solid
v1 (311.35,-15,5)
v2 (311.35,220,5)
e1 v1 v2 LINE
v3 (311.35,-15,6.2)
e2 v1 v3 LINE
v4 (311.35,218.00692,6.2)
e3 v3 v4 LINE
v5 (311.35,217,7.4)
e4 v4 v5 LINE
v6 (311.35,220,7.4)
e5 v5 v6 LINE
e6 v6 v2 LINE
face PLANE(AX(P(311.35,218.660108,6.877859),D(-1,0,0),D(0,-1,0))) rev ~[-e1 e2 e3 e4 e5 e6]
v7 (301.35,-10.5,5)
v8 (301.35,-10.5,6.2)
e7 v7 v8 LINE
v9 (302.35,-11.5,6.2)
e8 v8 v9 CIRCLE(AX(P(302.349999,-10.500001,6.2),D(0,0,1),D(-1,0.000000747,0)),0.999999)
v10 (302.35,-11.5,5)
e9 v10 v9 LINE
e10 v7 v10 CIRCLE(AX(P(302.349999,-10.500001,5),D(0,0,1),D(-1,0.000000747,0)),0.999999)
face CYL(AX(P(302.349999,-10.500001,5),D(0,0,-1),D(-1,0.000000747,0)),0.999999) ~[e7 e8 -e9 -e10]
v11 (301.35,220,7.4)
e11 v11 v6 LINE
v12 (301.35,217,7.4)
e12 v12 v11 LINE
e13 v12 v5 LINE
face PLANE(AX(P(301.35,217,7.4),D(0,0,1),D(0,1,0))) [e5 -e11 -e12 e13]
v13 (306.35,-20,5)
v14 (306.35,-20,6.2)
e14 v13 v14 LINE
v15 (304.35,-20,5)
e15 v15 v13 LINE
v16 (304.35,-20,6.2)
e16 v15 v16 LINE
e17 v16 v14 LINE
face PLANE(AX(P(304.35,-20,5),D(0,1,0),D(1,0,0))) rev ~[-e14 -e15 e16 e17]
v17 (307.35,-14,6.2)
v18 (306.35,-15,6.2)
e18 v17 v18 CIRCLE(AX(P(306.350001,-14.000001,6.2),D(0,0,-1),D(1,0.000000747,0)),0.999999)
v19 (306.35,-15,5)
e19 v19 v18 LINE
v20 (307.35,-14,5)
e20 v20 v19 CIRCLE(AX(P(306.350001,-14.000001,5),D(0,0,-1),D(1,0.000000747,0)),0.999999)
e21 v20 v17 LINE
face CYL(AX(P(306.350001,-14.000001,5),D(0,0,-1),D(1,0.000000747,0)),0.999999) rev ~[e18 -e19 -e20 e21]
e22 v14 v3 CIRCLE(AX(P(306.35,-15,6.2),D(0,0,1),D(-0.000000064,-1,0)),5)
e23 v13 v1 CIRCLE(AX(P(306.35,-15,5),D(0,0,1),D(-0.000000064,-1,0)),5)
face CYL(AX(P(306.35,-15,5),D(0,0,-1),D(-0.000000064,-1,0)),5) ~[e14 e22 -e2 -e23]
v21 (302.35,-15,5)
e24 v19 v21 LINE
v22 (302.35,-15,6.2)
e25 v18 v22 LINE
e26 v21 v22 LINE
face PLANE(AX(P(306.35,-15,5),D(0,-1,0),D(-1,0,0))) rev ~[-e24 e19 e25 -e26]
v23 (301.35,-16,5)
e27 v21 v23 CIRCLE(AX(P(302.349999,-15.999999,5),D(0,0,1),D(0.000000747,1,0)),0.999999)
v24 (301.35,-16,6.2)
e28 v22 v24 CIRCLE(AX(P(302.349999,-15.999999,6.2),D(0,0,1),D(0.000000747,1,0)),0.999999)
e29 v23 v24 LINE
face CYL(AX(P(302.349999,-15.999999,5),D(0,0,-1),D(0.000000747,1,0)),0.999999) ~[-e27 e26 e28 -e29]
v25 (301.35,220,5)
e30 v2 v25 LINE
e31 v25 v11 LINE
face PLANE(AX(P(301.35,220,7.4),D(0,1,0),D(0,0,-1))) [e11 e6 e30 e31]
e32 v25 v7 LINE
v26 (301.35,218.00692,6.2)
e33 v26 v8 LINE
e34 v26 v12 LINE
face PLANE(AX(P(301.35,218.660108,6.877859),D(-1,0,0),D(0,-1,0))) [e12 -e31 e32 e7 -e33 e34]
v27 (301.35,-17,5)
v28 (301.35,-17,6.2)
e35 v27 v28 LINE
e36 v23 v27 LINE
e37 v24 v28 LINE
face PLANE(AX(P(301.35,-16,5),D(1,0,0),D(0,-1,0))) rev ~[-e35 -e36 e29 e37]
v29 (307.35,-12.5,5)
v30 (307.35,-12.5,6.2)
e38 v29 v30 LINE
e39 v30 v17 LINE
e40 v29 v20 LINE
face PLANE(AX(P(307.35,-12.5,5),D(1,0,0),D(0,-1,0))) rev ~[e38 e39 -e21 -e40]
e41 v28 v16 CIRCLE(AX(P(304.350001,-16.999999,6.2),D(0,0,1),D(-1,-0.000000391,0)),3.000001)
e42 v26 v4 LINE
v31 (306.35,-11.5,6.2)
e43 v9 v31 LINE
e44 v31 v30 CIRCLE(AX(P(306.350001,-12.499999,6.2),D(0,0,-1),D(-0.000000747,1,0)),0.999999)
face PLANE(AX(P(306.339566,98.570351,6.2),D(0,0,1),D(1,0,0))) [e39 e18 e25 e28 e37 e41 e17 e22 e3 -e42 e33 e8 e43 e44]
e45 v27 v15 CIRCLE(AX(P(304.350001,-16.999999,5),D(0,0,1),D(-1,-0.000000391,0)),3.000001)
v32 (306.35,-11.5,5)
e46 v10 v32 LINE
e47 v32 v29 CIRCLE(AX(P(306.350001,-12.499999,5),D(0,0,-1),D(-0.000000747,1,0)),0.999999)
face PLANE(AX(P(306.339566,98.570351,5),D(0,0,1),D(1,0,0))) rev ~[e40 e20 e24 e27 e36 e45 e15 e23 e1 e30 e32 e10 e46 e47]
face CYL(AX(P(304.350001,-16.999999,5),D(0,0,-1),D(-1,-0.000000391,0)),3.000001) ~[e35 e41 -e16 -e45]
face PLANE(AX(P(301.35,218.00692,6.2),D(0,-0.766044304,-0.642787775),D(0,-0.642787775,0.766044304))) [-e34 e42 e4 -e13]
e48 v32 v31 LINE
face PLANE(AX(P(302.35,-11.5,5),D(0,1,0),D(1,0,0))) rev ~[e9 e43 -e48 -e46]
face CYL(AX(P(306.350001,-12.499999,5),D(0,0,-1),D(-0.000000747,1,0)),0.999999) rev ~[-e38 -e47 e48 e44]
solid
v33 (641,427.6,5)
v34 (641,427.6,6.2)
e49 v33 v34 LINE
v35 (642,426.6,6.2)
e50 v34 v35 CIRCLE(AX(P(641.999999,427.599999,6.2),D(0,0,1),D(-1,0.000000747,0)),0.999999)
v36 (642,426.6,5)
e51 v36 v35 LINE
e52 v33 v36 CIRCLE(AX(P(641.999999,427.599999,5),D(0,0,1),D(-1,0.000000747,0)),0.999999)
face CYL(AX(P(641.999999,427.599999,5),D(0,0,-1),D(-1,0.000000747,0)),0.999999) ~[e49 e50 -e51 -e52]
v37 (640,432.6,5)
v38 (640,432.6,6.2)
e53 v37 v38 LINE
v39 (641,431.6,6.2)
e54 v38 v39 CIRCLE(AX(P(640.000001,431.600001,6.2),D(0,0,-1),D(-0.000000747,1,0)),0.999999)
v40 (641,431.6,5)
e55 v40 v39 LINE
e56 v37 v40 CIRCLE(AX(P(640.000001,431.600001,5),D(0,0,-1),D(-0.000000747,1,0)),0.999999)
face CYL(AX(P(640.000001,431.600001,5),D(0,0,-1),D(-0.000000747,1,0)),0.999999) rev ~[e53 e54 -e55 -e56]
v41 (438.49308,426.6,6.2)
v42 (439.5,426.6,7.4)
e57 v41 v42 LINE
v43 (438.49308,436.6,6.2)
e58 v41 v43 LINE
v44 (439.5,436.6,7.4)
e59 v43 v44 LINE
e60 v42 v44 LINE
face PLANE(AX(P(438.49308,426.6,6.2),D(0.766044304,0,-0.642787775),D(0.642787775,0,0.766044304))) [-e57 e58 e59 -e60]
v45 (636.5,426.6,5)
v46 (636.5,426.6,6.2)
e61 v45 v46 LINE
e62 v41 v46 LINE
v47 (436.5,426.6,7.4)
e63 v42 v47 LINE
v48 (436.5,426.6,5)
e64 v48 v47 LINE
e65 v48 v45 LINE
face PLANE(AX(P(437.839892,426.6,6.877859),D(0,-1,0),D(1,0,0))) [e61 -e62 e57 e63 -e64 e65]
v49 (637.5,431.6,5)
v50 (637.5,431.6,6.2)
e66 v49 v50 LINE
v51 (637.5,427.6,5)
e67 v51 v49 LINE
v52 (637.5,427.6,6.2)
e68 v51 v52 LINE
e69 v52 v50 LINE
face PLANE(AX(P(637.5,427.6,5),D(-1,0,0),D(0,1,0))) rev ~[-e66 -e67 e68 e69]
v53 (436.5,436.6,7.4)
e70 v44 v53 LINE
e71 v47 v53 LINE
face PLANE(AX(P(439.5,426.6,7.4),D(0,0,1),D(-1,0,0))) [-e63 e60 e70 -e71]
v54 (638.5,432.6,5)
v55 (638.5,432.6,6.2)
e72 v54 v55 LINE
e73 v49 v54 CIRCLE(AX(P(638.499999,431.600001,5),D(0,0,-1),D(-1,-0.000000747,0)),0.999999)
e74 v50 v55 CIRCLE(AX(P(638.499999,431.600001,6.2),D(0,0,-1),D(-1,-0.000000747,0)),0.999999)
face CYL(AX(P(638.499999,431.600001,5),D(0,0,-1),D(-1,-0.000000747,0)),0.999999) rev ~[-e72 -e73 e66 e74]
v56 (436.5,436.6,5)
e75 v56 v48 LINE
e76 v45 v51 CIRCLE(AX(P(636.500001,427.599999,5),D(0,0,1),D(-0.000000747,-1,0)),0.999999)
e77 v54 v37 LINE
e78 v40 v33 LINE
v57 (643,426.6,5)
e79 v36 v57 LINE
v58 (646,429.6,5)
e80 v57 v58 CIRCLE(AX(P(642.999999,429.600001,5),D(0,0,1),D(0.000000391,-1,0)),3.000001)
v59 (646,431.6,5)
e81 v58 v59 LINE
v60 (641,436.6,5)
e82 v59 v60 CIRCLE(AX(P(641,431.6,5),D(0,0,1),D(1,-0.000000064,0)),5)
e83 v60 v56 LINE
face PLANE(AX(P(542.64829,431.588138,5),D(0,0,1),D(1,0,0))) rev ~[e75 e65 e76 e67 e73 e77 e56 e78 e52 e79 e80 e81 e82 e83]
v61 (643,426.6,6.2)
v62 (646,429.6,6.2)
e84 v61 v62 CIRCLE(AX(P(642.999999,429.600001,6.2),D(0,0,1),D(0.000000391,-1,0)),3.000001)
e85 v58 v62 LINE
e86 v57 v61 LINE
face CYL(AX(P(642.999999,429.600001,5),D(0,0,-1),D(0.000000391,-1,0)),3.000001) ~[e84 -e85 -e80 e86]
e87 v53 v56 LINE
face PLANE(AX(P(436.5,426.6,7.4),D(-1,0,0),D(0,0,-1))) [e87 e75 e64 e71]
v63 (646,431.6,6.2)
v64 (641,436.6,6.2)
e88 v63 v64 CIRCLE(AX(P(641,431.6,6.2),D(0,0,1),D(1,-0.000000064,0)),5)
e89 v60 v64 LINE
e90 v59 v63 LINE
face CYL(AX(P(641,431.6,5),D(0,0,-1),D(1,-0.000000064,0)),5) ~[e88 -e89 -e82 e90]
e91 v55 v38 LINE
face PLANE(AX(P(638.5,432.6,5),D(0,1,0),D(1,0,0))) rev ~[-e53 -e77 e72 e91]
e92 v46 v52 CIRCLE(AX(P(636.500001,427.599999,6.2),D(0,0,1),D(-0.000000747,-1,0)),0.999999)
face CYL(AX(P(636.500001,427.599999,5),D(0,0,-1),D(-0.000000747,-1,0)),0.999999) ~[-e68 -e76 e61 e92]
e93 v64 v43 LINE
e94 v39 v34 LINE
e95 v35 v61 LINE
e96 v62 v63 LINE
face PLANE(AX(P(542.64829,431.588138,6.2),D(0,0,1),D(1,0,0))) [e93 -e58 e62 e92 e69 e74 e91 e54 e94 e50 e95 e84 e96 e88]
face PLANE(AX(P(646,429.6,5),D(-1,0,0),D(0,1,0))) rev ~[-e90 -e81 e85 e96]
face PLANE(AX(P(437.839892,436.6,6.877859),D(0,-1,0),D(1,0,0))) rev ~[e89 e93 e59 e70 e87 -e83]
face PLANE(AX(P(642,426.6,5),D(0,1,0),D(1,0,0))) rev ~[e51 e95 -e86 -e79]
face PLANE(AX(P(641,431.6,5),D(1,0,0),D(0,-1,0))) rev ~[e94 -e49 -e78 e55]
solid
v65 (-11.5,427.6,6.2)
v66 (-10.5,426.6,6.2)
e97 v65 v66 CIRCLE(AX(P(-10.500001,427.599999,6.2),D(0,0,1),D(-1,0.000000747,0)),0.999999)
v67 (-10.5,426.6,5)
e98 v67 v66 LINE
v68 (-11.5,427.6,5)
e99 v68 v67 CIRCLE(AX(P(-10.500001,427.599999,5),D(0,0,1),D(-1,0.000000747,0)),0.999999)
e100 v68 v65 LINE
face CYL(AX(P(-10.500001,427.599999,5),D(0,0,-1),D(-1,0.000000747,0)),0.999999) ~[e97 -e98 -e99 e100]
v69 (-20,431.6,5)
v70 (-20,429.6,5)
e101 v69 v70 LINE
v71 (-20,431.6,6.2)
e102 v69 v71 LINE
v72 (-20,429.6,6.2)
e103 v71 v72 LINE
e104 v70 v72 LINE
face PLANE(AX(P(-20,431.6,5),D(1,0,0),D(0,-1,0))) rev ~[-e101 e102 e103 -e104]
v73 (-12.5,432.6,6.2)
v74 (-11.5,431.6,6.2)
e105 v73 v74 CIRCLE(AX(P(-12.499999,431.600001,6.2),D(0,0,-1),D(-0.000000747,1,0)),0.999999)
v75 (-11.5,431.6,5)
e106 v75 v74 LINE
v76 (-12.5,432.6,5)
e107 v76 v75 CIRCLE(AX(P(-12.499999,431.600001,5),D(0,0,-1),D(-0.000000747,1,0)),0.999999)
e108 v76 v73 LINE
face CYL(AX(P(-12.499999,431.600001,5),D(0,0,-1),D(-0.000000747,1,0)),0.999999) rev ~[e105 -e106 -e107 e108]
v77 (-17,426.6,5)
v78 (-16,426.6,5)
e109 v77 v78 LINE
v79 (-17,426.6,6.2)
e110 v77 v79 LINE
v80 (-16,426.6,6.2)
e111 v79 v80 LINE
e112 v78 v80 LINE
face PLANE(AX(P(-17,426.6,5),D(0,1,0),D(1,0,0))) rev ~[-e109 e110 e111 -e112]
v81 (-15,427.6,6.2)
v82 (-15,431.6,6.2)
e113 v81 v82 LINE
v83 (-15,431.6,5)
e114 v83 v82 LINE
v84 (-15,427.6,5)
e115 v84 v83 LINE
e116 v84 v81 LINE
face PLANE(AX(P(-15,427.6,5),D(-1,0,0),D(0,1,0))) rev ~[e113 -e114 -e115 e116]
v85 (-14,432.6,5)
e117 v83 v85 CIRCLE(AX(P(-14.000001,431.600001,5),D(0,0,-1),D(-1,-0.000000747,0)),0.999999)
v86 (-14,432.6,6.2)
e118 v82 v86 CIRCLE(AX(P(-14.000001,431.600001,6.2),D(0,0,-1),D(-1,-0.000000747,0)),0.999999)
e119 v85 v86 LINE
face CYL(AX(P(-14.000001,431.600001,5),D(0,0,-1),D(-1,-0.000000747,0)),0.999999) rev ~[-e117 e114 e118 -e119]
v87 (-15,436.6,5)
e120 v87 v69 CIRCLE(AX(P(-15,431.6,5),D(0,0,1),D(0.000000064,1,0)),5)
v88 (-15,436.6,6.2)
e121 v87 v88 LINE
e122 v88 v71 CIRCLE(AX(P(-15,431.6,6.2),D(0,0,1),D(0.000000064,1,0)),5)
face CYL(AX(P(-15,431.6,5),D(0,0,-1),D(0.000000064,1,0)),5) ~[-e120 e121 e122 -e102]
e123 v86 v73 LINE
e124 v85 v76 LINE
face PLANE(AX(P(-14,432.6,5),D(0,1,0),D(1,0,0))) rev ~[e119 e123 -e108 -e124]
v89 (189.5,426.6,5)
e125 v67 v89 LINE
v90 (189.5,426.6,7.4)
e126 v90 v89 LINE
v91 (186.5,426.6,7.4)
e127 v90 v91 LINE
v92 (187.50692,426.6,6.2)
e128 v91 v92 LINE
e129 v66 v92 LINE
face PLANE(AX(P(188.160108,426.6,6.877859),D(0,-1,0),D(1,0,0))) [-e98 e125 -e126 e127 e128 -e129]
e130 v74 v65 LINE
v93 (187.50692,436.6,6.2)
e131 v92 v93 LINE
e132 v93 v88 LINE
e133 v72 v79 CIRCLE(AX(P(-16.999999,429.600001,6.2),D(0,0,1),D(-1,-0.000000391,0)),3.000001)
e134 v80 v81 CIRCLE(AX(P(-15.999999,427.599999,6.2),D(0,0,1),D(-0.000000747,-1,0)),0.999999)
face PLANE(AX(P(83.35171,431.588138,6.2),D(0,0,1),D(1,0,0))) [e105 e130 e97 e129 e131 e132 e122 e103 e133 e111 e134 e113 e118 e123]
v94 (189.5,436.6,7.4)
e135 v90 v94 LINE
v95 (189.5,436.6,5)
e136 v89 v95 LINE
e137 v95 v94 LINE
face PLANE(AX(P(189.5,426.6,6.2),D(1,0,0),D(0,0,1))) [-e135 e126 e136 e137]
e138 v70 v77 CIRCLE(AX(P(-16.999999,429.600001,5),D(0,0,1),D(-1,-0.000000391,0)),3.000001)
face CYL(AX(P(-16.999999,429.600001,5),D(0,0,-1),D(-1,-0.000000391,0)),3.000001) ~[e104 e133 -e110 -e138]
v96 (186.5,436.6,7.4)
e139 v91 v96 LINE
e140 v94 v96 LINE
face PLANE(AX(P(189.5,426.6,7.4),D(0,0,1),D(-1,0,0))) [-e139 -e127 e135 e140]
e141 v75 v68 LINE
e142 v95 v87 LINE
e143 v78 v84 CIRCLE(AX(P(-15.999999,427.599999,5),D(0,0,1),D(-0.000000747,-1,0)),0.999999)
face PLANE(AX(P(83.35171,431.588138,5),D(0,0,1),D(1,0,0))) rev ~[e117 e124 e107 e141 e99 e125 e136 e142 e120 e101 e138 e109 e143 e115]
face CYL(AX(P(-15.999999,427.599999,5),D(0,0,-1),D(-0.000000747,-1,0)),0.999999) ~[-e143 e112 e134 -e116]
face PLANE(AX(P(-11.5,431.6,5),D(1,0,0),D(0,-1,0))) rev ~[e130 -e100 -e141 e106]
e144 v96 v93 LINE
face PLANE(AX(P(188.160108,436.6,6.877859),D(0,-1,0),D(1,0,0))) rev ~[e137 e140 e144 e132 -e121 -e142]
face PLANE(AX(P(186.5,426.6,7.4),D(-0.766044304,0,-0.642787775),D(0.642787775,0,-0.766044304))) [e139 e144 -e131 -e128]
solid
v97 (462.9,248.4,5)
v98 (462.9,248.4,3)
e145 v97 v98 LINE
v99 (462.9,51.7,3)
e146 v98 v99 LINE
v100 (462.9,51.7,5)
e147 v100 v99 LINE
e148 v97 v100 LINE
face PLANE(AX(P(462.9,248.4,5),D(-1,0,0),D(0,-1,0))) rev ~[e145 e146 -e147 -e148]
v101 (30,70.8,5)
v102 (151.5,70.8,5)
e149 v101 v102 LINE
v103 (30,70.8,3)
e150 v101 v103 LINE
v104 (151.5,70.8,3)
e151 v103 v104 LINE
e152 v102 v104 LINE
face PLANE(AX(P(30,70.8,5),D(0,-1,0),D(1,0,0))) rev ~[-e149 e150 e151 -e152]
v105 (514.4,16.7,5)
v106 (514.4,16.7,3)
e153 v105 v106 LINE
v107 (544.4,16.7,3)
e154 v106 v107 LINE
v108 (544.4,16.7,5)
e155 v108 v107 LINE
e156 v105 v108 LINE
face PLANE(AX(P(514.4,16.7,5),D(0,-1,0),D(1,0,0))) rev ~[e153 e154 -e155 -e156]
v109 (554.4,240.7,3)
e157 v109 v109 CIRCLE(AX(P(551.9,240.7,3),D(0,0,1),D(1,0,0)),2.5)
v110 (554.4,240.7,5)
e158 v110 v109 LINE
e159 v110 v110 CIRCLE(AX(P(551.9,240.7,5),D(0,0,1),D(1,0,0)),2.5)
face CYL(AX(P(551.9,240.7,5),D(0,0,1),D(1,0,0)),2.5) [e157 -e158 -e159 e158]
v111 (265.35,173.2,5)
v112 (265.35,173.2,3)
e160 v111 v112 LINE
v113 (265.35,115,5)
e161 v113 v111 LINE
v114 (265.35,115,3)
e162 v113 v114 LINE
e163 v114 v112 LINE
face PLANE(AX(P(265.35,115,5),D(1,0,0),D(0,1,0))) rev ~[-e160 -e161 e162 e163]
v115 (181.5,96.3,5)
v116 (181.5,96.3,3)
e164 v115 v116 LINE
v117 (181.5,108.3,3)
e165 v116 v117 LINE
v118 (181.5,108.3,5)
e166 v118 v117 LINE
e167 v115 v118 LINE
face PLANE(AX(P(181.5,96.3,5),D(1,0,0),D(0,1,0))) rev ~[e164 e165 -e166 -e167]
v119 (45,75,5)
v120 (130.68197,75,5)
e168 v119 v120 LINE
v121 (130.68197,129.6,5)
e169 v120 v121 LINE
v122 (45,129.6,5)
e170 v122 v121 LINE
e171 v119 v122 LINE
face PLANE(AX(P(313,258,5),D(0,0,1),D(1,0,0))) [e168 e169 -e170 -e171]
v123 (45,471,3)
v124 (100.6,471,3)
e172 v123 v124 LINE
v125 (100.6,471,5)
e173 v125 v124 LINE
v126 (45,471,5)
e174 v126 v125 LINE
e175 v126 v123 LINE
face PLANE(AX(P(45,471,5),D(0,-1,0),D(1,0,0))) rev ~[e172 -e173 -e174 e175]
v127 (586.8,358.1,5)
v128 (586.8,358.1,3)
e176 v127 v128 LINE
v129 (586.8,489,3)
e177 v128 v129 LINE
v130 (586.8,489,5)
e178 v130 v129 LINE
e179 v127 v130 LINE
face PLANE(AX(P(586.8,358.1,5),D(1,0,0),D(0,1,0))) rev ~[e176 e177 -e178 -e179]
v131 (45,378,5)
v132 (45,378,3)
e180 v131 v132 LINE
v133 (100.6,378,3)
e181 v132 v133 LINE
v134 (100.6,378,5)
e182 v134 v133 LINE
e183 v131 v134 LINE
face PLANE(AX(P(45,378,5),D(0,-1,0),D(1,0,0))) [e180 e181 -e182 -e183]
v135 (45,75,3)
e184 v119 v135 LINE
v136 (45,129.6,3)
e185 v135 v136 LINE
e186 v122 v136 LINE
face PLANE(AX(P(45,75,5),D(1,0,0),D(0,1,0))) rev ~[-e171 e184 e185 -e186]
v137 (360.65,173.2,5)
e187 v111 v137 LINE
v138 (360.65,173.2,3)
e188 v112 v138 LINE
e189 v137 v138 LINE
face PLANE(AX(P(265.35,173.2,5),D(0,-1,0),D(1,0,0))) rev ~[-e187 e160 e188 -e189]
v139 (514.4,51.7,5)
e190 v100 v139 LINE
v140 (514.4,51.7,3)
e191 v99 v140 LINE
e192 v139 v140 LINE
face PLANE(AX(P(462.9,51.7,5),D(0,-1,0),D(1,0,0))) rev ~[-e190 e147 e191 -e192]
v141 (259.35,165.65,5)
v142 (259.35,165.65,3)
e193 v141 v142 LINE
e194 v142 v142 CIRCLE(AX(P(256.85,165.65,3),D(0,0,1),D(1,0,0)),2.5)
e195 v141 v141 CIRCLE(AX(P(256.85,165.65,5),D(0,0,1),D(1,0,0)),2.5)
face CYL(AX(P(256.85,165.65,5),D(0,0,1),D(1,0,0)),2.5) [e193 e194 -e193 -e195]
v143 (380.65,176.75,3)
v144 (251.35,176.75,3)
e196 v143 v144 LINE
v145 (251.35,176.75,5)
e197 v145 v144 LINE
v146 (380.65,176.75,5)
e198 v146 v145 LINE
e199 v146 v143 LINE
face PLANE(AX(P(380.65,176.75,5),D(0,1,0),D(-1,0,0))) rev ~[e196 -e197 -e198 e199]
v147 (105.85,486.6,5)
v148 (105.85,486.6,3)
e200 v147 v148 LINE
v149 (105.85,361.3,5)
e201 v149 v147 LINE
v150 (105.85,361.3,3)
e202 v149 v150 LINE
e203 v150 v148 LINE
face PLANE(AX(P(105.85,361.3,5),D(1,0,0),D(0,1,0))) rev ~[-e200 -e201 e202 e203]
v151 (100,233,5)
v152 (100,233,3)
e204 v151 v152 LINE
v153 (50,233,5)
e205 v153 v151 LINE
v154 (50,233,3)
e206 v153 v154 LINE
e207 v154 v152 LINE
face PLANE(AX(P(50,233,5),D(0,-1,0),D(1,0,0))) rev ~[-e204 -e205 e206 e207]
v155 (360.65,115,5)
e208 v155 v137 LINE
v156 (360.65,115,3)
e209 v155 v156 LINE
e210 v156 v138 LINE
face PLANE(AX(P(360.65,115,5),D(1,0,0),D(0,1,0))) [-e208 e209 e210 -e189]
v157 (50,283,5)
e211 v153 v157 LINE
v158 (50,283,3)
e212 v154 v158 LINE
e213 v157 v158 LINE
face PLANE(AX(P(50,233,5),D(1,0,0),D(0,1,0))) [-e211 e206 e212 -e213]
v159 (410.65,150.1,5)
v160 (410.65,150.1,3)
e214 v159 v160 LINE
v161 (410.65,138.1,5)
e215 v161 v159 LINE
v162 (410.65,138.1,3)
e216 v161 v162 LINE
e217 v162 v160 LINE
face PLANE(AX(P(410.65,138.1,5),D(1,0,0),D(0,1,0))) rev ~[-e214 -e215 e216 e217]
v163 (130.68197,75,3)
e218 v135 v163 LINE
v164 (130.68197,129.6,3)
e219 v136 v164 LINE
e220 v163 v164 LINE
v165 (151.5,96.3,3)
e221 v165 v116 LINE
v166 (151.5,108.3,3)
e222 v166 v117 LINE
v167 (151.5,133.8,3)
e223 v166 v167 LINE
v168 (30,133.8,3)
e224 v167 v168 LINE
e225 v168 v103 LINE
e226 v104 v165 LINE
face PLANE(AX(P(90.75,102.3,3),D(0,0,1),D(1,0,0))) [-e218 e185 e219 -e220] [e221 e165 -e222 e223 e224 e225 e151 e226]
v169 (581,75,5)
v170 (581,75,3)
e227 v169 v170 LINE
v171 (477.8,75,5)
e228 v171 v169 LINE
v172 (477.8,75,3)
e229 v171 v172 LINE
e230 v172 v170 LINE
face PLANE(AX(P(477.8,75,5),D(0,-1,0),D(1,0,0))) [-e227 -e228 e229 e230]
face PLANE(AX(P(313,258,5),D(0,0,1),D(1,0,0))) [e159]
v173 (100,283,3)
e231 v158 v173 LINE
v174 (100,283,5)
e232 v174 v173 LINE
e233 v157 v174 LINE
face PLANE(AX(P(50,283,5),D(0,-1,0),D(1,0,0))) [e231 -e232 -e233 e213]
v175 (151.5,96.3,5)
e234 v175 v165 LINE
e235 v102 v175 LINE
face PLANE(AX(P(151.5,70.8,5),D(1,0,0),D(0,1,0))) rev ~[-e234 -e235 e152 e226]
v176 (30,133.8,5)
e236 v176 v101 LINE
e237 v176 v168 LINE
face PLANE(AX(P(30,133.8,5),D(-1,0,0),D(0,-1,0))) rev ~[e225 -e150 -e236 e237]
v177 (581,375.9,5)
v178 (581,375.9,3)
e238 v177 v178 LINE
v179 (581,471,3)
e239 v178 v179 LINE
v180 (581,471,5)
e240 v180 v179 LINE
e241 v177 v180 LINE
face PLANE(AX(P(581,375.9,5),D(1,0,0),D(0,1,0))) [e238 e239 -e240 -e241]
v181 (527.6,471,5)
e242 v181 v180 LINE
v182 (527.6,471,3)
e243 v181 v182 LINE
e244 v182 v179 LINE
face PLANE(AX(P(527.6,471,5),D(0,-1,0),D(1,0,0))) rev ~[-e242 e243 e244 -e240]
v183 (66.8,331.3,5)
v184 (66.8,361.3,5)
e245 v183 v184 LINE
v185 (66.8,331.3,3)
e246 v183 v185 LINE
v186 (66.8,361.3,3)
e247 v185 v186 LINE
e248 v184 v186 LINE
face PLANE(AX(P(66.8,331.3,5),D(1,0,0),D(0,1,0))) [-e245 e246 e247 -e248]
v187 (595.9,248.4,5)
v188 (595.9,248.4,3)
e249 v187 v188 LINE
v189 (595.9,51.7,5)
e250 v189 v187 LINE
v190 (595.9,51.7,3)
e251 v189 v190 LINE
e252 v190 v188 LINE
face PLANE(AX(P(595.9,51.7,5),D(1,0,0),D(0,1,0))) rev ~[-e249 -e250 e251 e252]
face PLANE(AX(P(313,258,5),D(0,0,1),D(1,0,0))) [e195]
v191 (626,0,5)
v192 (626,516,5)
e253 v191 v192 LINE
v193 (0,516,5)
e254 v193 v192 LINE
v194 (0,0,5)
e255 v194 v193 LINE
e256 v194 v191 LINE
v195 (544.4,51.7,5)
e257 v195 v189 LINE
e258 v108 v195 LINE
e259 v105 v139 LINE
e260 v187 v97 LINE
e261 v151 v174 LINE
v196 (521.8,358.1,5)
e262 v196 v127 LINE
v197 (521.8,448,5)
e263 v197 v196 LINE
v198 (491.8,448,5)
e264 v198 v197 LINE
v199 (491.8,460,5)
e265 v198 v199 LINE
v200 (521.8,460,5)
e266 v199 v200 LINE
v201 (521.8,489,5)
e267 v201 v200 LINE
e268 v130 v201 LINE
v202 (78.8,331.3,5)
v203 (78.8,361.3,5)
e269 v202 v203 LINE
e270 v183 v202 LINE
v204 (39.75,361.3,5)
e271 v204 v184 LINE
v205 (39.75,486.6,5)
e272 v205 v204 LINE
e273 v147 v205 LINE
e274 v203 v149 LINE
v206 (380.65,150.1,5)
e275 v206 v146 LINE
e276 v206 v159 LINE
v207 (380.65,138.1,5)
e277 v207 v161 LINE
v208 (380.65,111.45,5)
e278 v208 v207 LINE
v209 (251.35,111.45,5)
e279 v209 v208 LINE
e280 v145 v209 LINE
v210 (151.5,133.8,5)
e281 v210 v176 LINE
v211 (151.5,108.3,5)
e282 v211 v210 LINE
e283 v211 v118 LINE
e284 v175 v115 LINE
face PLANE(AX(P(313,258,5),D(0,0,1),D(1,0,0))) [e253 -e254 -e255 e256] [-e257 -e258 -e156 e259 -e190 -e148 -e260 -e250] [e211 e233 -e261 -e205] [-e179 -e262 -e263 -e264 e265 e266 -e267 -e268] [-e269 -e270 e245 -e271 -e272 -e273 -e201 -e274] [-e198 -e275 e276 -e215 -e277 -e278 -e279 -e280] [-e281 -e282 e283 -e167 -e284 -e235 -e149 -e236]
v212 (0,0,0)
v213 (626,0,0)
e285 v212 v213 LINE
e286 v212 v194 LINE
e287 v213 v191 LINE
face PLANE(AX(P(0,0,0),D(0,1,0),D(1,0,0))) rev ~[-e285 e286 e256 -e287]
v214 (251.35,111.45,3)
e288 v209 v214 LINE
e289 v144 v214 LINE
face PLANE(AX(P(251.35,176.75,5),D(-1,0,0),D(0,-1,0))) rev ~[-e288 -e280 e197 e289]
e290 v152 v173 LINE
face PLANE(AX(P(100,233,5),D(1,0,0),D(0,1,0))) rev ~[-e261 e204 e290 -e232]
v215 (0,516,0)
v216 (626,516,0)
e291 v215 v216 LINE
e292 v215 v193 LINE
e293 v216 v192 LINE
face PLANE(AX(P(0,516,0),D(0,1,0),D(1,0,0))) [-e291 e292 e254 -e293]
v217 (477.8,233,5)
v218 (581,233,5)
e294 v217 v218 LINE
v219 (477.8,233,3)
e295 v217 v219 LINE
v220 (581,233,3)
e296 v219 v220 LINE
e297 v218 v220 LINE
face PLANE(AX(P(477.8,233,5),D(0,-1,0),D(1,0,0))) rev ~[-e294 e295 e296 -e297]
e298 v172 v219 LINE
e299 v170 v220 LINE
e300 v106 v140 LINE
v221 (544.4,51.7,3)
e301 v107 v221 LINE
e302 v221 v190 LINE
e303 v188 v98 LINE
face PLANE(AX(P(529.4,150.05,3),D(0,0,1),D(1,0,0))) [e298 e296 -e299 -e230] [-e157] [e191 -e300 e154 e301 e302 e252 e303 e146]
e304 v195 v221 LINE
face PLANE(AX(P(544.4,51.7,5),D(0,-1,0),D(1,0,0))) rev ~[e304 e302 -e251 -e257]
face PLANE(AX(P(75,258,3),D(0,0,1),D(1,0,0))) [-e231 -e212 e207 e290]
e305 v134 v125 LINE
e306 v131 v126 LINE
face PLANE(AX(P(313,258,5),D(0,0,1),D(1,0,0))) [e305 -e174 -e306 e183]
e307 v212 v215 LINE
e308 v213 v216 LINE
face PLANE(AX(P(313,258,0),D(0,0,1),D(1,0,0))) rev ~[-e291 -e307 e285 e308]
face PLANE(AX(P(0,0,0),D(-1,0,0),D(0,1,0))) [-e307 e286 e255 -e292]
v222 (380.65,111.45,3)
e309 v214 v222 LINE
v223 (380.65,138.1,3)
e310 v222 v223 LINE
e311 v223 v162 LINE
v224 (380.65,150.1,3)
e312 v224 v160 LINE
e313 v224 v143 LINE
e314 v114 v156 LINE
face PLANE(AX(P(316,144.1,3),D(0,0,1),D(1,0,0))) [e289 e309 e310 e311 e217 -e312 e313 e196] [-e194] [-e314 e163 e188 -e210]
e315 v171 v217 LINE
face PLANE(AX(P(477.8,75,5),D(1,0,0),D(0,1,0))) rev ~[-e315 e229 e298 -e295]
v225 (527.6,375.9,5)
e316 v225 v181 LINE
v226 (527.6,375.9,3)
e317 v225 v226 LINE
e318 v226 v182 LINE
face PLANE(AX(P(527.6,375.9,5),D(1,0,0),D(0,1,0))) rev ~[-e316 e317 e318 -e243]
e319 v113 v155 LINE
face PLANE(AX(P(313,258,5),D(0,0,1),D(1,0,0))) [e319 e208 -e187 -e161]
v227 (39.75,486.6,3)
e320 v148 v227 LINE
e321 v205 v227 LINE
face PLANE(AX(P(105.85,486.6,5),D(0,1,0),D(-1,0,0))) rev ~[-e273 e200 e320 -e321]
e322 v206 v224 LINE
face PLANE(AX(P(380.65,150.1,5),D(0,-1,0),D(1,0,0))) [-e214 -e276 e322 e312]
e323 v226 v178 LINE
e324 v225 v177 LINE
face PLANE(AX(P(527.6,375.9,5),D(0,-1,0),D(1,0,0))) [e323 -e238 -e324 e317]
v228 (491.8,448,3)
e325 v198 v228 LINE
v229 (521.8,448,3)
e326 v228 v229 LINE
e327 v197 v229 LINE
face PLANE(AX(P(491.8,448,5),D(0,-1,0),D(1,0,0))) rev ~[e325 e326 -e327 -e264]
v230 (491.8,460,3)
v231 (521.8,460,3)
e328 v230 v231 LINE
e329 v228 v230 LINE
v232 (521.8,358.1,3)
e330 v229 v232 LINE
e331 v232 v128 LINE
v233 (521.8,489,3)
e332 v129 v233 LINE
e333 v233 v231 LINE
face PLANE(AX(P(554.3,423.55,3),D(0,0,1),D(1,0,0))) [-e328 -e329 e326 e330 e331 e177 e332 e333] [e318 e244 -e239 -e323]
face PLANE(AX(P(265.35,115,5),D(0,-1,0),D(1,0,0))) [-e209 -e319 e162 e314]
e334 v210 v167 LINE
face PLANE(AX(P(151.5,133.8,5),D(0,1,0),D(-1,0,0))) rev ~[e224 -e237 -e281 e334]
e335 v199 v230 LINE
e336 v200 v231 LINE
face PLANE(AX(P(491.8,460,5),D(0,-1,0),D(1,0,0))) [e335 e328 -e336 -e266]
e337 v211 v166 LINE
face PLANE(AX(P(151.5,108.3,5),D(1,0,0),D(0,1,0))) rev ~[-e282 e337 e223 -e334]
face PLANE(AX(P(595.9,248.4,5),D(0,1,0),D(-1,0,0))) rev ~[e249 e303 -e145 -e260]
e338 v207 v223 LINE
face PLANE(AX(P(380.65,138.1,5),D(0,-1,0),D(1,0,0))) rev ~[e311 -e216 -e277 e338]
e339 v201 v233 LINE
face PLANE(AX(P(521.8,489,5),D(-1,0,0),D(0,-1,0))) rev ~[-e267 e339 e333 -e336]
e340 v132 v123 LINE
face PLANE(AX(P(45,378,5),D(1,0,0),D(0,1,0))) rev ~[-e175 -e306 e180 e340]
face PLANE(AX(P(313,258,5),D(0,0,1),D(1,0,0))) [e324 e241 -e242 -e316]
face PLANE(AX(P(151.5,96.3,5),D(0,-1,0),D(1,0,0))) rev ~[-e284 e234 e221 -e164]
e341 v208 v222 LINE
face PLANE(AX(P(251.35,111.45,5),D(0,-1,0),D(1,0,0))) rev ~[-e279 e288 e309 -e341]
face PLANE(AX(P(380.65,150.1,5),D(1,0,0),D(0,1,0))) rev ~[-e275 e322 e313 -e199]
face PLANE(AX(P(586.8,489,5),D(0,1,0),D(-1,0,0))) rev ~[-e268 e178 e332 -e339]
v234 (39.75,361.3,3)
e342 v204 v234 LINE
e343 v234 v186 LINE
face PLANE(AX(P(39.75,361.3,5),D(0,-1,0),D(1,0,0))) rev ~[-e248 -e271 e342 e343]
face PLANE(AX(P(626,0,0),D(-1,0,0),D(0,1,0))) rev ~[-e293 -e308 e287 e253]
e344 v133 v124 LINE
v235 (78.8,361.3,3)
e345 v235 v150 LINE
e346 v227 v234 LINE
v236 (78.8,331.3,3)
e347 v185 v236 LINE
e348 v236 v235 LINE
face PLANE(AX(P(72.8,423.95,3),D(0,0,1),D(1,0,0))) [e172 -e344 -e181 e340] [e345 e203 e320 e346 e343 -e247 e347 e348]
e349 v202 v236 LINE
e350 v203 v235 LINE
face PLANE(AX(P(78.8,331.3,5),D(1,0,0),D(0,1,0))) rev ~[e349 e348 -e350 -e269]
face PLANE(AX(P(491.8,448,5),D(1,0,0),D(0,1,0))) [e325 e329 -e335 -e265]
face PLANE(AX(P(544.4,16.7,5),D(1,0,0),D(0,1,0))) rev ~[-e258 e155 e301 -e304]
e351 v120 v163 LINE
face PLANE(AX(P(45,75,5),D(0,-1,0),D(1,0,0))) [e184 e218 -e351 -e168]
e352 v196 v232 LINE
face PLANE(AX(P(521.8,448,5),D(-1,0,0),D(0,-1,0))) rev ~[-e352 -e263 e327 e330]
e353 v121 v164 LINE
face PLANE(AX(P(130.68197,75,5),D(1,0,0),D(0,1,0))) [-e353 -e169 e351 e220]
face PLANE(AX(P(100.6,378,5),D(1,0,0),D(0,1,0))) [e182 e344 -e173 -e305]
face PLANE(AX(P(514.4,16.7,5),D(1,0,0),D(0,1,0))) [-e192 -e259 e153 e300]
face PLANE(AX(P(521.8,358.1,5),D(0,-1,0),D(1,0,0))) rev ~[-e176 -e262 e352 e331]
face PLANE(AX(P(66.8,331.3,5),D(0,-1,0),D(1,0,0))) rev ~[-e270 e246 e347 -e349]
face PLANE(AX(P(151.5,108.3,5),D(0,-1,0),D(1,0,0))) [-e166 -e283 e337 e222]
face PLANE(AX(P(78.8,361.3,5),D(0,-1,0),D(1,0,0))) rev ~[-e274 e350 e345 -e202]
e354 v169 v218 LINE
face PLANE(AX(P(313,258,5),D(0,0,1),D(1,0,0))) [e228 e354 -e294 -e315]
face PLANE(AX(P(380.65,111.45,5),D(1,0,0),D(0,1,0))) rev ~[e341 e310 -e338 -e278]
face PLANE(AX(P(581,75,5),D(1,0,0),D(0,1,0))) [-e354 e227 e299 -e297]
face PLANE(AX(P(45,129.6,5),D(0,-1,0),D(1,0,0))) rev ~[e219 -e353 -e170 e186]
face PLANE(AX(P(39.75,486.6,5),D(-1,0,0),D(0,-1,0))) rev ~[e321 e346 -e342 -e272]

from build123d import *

# Parameters (mm, degrees)
F0_W      = 626
F0_H      = 516
F1_DEPTH  = 5
F3_W      = 95.3
F3_H      = 58.2
F3_R      = 2.5
F3_W_2    = 30
F3_H_2    = 12
F4_W      = 55.6
F4_H      = 93
F4_W_2    = 12
F4_H_2    = 30
F5_W      = 103.2
F5_H      = 158
F5_R      = 2.5
F5_W_2    = 30
F5_H_2    = 35
F2_W      = 53.4
F2_H      = 95.1
F2_W_2    = 30
F2_H_2    = 12
F6_W      = 85.68197
F6_H      = 54.6
F6_W_2    = 30
F6_H_2    = 12
F7_W      = 50
F7_H      = 50
F8_DEPTH  = 2
F10_DEPTH = 1.2
F12_DEPTH = 10
F14_DEPTH = 1.2
F16_DEPTH = 10
F18_DEPTH = 10


with BuildPart() as f1:
    # F0 (on Top) → F1 (new body)
    with BuildSketch(Plane.XY):
        with Locations((313, 258)):
            Rectangle(F0_W, F0_H)
    extrude(amount=F1_DEPTH)

    # F3 (on face) + F4 (on face) + F5 (on face) + F2 (on face) + F6 (on face) + F7 (on face) → F8 (cut)
    with BuildSketch(Plane.XY.offset(5)):
        Polygon((251.35, 111.45), (380.65, 111.45), (380.65, 138.1), (380.65, 150.1), (380.65, 176.75), (251.35, 176.75), align=None)
        with Locations((313, 144.1)):
            Rectangle(F3_W, F3_H, mode=Mode.SUBTRACT)
        with Locations((256.85, 165.65)):
            Circle(F3_R, mode=Mode.SUBTRACT)
        with Locations((395.65, 144.1)):
            Rectangle(F3_W_2, F3_H_2)
    with BuildSketch(Plane.XY.offset(5)):
        Polygon((78.8, 361.3), (105.85, 361.3), (105.85, 486.6), (39.75, 486.6), (39.75, 361.3), (66.8, 361.3), align=None)
        with Locations((72.8, 424.5)):
            Rectangle(F4_W, F4_H, mode=Mode.SUBTRACT)
        with Locations((72.8, 346.3)):
            Rectangle(F4_W_2, F4_H_2)
    with BuildSketch(Plane.XY.offset(5)):
        Polygon((544.4, 51.7), (595.9, 51.7), (595.9, 248.4), (462.9, 248.4), (462.9, 51.7), (514.4, 51.7), align=None)
        with Locations((529.4, 154)):
            Rectangle(F5_W, F5_H, mode=Mode.SUBTRACT)
        with Locations((551.9, 240.7)):
            Circle(F5_R, mode=Mode.SUBTRACT)
        with Locations((529.4, 34.2)):
            Rectangle(F5_W_2, F5_H_2)
    with BuildSketch(Plane.XY.offset(5)):
        Polygon((521.8, 358.1), (586.8, 358.1), (586.8, 489), (521.8, 489), (521.8, 460), (521.8, 448), align=None)
        with Locations((554.3, 423.45)):
            Rectangle(F2_W, F2_H, mode=Mode.SUBTRACT)
        with Locations((506.8, 454)):
            Rectangle(F2_W_2, F2_H_2)
    with BuildSketch(Plane.XY.offset(5)):
        Polygon((151.5, 108.3), (151.5, 133.8), (30, 133.8), (30, 70.8), (151.5, 70.8), (151.5, 96.3), align=None)
        with Locations((87.840985, 102.3)):
            Rectangle(F6_W, F6_H, mode=Mode.SUBTRACT)
        with Locations((166.5, 102.3)):
            Rectangle(F6_W_2, F6_H_2)
    with BuildSketch(Plane.XY.offset(5)):
        with Locations((75, 258)):
            Rectangle(F7_W, F7_H)
    extrude(amount=-F8_DEPTH, mode=Mode.SUBTRACT)


with BuildPart() as f10:
    # F9 (on face) → F10 (new body)
    with BuildSketch(Plane.XY.offset(5)):
        with BuildLine():
            Line((189.5, 436.6), (-15, 436.6))
            ThreePointArc((-15, 436.6), (-18.535534, 435.135534), (-20, 431.6))
            Line((-20, 431.6), (-20, 429.6))
            ThreePointArc((-20, 429.6), (-19.12132, 427.47868), (-17, 426.6))
            Line((-17, 426.6), (-16, 426.6))
            ThreePointArc((-16, 426.6), (-15.292893, 426.892893), (-15, 427.6))
            Line((-15, 427.6), (-15, 431.6))
            ThreePointArc((-15, 431.6), (-14.707107, 432.307107), (-14, 432.6))
            Line((-14, 432.6), (-12.5, 432.6))
            ThreePointArc((-12.5, 432.6), (-11.792893, 432.307107), (-11.5, 431.6))
            Line((-11.5, 431.6), (-11.5, 427.6))
            ThreePointArc((-11.5, 427.6), (-11.207107, 426.892893), (-10.5, 426.6))
            Line((-10.5, 426.6), (189.5, 426.6))
            Line((189.5, 426.6), (189.5, 436.6))
        make_face()
        with BuildLine():
            Line((642, 426.6), (643, 426.6))
            ThreePointArc((643, 426.6), (645.12132, 427.47868), (646, 429.6))
            Line((646, 429.6), (646, 431.6))
            ThreePointArc((646, 431.6), (644.535534, 435.135534), (641, 436.6))
            Line((641, 436.6), (436.5, 436.6))
            Line((436.5, 436.6), (436.5, 426.6))
            Line((436.5, 426.6), (636.5, 426.6))
            ThreePointArc((636.5, 426.6), (637.207107, 426.892893), (637.5, 427.6))
            Line((637.5, 427.6), (637.5, 431.6))
            ThreePointArc((637.5, 431.6), (637.792893, 432.307107), (638.5, 432.6))
            Line((638.5, 432.6), (640, 432.6))
            ThreePointArc((640, 432.6), (640.707107, 432.307107), (641, 431.6))
            Line((641, 431.6), (641, 427.6))
            ThreePointArc((641, 427.6), (641.292893, 426.892893), (642, 426.6))
        make_face()
    extrude(amount=F10_DEPTH)

    # F11 (on face) → F12 (join, through all)
    with BuildSketch(Plane.XZ.offset(-426.6)):
        Polygon((187.50692, 6.2), (189.5, 6.2), (189.5, 7.4), (186.5, 7.4), align=None)
    extrude(amount=-F12_DEPTH)

    # F17 (on face) → F18 (join, through all)
    with BuildSketch(Plane.XZ.offset(-426.6)):
        Polygon((436.5, 7.4), (436.5, 6.2), (438.49308, 6.2), (439.5, 7.4), align=None)
    extrude(amount=-F18_DEPTH)


with BuildPart() as f14:
    # F13 (on face) → F14 (new body)
    with BuildSketch(Plane.XY.offset(5)):
        with BuildLine():
            Line((311.35, 220), (301.35, 220))
            Line((301.35, 220), (301.35, -10.5))
            ThreePointArc((301.35, -10.5), (301.642893, -11.207107), (302.35, -11.5))
            Line((302.35, -11.5), (306.35, -11.5))
            ThreePointArc((306.35, -11.5), (307.057107, -11.792893), (307.35, -12.5))
            Line((307.35, -12.5), (307.35, -14))
            ThreePointArc((307.35, -14), (307.057107, -14.707107), (306.35, -15))
            Line((306.35, -15), (302.35, -15))
            ThreePointArc((302.35, -15), (301.642893, -15.292893), (301.35, -16))
            Line((301.35, -16), (301.35, -17))
            ThreePointArc((301.35, -17), (302.22868, -19.12132), (304.35, -20))
            Line((304.35, -20), (306.35, -20))
            ThreePointArc((306.35, -20), (309.885534, -18.535534), (311.35, -15))
            Line((311.35, -15), (311.35, 220))
        make_face()
    extrude(amount=F14_DEPTH)

    # F15 (on face) → F16 (join, through all)
    with BuildSketch(Plane(origin=(301.35, 0, 0), x_dir=(0, -1, 0), z_dir=(-1, 0, 0))):
        Polygon((-220, 7.4), (-220, 6.2), (-218.00692, 6.2), (-217, 7.4), align=None)
    extrude(amount=-F16_DEPTH)


solid = Compound([f1.part, f10.part, f14.part])
